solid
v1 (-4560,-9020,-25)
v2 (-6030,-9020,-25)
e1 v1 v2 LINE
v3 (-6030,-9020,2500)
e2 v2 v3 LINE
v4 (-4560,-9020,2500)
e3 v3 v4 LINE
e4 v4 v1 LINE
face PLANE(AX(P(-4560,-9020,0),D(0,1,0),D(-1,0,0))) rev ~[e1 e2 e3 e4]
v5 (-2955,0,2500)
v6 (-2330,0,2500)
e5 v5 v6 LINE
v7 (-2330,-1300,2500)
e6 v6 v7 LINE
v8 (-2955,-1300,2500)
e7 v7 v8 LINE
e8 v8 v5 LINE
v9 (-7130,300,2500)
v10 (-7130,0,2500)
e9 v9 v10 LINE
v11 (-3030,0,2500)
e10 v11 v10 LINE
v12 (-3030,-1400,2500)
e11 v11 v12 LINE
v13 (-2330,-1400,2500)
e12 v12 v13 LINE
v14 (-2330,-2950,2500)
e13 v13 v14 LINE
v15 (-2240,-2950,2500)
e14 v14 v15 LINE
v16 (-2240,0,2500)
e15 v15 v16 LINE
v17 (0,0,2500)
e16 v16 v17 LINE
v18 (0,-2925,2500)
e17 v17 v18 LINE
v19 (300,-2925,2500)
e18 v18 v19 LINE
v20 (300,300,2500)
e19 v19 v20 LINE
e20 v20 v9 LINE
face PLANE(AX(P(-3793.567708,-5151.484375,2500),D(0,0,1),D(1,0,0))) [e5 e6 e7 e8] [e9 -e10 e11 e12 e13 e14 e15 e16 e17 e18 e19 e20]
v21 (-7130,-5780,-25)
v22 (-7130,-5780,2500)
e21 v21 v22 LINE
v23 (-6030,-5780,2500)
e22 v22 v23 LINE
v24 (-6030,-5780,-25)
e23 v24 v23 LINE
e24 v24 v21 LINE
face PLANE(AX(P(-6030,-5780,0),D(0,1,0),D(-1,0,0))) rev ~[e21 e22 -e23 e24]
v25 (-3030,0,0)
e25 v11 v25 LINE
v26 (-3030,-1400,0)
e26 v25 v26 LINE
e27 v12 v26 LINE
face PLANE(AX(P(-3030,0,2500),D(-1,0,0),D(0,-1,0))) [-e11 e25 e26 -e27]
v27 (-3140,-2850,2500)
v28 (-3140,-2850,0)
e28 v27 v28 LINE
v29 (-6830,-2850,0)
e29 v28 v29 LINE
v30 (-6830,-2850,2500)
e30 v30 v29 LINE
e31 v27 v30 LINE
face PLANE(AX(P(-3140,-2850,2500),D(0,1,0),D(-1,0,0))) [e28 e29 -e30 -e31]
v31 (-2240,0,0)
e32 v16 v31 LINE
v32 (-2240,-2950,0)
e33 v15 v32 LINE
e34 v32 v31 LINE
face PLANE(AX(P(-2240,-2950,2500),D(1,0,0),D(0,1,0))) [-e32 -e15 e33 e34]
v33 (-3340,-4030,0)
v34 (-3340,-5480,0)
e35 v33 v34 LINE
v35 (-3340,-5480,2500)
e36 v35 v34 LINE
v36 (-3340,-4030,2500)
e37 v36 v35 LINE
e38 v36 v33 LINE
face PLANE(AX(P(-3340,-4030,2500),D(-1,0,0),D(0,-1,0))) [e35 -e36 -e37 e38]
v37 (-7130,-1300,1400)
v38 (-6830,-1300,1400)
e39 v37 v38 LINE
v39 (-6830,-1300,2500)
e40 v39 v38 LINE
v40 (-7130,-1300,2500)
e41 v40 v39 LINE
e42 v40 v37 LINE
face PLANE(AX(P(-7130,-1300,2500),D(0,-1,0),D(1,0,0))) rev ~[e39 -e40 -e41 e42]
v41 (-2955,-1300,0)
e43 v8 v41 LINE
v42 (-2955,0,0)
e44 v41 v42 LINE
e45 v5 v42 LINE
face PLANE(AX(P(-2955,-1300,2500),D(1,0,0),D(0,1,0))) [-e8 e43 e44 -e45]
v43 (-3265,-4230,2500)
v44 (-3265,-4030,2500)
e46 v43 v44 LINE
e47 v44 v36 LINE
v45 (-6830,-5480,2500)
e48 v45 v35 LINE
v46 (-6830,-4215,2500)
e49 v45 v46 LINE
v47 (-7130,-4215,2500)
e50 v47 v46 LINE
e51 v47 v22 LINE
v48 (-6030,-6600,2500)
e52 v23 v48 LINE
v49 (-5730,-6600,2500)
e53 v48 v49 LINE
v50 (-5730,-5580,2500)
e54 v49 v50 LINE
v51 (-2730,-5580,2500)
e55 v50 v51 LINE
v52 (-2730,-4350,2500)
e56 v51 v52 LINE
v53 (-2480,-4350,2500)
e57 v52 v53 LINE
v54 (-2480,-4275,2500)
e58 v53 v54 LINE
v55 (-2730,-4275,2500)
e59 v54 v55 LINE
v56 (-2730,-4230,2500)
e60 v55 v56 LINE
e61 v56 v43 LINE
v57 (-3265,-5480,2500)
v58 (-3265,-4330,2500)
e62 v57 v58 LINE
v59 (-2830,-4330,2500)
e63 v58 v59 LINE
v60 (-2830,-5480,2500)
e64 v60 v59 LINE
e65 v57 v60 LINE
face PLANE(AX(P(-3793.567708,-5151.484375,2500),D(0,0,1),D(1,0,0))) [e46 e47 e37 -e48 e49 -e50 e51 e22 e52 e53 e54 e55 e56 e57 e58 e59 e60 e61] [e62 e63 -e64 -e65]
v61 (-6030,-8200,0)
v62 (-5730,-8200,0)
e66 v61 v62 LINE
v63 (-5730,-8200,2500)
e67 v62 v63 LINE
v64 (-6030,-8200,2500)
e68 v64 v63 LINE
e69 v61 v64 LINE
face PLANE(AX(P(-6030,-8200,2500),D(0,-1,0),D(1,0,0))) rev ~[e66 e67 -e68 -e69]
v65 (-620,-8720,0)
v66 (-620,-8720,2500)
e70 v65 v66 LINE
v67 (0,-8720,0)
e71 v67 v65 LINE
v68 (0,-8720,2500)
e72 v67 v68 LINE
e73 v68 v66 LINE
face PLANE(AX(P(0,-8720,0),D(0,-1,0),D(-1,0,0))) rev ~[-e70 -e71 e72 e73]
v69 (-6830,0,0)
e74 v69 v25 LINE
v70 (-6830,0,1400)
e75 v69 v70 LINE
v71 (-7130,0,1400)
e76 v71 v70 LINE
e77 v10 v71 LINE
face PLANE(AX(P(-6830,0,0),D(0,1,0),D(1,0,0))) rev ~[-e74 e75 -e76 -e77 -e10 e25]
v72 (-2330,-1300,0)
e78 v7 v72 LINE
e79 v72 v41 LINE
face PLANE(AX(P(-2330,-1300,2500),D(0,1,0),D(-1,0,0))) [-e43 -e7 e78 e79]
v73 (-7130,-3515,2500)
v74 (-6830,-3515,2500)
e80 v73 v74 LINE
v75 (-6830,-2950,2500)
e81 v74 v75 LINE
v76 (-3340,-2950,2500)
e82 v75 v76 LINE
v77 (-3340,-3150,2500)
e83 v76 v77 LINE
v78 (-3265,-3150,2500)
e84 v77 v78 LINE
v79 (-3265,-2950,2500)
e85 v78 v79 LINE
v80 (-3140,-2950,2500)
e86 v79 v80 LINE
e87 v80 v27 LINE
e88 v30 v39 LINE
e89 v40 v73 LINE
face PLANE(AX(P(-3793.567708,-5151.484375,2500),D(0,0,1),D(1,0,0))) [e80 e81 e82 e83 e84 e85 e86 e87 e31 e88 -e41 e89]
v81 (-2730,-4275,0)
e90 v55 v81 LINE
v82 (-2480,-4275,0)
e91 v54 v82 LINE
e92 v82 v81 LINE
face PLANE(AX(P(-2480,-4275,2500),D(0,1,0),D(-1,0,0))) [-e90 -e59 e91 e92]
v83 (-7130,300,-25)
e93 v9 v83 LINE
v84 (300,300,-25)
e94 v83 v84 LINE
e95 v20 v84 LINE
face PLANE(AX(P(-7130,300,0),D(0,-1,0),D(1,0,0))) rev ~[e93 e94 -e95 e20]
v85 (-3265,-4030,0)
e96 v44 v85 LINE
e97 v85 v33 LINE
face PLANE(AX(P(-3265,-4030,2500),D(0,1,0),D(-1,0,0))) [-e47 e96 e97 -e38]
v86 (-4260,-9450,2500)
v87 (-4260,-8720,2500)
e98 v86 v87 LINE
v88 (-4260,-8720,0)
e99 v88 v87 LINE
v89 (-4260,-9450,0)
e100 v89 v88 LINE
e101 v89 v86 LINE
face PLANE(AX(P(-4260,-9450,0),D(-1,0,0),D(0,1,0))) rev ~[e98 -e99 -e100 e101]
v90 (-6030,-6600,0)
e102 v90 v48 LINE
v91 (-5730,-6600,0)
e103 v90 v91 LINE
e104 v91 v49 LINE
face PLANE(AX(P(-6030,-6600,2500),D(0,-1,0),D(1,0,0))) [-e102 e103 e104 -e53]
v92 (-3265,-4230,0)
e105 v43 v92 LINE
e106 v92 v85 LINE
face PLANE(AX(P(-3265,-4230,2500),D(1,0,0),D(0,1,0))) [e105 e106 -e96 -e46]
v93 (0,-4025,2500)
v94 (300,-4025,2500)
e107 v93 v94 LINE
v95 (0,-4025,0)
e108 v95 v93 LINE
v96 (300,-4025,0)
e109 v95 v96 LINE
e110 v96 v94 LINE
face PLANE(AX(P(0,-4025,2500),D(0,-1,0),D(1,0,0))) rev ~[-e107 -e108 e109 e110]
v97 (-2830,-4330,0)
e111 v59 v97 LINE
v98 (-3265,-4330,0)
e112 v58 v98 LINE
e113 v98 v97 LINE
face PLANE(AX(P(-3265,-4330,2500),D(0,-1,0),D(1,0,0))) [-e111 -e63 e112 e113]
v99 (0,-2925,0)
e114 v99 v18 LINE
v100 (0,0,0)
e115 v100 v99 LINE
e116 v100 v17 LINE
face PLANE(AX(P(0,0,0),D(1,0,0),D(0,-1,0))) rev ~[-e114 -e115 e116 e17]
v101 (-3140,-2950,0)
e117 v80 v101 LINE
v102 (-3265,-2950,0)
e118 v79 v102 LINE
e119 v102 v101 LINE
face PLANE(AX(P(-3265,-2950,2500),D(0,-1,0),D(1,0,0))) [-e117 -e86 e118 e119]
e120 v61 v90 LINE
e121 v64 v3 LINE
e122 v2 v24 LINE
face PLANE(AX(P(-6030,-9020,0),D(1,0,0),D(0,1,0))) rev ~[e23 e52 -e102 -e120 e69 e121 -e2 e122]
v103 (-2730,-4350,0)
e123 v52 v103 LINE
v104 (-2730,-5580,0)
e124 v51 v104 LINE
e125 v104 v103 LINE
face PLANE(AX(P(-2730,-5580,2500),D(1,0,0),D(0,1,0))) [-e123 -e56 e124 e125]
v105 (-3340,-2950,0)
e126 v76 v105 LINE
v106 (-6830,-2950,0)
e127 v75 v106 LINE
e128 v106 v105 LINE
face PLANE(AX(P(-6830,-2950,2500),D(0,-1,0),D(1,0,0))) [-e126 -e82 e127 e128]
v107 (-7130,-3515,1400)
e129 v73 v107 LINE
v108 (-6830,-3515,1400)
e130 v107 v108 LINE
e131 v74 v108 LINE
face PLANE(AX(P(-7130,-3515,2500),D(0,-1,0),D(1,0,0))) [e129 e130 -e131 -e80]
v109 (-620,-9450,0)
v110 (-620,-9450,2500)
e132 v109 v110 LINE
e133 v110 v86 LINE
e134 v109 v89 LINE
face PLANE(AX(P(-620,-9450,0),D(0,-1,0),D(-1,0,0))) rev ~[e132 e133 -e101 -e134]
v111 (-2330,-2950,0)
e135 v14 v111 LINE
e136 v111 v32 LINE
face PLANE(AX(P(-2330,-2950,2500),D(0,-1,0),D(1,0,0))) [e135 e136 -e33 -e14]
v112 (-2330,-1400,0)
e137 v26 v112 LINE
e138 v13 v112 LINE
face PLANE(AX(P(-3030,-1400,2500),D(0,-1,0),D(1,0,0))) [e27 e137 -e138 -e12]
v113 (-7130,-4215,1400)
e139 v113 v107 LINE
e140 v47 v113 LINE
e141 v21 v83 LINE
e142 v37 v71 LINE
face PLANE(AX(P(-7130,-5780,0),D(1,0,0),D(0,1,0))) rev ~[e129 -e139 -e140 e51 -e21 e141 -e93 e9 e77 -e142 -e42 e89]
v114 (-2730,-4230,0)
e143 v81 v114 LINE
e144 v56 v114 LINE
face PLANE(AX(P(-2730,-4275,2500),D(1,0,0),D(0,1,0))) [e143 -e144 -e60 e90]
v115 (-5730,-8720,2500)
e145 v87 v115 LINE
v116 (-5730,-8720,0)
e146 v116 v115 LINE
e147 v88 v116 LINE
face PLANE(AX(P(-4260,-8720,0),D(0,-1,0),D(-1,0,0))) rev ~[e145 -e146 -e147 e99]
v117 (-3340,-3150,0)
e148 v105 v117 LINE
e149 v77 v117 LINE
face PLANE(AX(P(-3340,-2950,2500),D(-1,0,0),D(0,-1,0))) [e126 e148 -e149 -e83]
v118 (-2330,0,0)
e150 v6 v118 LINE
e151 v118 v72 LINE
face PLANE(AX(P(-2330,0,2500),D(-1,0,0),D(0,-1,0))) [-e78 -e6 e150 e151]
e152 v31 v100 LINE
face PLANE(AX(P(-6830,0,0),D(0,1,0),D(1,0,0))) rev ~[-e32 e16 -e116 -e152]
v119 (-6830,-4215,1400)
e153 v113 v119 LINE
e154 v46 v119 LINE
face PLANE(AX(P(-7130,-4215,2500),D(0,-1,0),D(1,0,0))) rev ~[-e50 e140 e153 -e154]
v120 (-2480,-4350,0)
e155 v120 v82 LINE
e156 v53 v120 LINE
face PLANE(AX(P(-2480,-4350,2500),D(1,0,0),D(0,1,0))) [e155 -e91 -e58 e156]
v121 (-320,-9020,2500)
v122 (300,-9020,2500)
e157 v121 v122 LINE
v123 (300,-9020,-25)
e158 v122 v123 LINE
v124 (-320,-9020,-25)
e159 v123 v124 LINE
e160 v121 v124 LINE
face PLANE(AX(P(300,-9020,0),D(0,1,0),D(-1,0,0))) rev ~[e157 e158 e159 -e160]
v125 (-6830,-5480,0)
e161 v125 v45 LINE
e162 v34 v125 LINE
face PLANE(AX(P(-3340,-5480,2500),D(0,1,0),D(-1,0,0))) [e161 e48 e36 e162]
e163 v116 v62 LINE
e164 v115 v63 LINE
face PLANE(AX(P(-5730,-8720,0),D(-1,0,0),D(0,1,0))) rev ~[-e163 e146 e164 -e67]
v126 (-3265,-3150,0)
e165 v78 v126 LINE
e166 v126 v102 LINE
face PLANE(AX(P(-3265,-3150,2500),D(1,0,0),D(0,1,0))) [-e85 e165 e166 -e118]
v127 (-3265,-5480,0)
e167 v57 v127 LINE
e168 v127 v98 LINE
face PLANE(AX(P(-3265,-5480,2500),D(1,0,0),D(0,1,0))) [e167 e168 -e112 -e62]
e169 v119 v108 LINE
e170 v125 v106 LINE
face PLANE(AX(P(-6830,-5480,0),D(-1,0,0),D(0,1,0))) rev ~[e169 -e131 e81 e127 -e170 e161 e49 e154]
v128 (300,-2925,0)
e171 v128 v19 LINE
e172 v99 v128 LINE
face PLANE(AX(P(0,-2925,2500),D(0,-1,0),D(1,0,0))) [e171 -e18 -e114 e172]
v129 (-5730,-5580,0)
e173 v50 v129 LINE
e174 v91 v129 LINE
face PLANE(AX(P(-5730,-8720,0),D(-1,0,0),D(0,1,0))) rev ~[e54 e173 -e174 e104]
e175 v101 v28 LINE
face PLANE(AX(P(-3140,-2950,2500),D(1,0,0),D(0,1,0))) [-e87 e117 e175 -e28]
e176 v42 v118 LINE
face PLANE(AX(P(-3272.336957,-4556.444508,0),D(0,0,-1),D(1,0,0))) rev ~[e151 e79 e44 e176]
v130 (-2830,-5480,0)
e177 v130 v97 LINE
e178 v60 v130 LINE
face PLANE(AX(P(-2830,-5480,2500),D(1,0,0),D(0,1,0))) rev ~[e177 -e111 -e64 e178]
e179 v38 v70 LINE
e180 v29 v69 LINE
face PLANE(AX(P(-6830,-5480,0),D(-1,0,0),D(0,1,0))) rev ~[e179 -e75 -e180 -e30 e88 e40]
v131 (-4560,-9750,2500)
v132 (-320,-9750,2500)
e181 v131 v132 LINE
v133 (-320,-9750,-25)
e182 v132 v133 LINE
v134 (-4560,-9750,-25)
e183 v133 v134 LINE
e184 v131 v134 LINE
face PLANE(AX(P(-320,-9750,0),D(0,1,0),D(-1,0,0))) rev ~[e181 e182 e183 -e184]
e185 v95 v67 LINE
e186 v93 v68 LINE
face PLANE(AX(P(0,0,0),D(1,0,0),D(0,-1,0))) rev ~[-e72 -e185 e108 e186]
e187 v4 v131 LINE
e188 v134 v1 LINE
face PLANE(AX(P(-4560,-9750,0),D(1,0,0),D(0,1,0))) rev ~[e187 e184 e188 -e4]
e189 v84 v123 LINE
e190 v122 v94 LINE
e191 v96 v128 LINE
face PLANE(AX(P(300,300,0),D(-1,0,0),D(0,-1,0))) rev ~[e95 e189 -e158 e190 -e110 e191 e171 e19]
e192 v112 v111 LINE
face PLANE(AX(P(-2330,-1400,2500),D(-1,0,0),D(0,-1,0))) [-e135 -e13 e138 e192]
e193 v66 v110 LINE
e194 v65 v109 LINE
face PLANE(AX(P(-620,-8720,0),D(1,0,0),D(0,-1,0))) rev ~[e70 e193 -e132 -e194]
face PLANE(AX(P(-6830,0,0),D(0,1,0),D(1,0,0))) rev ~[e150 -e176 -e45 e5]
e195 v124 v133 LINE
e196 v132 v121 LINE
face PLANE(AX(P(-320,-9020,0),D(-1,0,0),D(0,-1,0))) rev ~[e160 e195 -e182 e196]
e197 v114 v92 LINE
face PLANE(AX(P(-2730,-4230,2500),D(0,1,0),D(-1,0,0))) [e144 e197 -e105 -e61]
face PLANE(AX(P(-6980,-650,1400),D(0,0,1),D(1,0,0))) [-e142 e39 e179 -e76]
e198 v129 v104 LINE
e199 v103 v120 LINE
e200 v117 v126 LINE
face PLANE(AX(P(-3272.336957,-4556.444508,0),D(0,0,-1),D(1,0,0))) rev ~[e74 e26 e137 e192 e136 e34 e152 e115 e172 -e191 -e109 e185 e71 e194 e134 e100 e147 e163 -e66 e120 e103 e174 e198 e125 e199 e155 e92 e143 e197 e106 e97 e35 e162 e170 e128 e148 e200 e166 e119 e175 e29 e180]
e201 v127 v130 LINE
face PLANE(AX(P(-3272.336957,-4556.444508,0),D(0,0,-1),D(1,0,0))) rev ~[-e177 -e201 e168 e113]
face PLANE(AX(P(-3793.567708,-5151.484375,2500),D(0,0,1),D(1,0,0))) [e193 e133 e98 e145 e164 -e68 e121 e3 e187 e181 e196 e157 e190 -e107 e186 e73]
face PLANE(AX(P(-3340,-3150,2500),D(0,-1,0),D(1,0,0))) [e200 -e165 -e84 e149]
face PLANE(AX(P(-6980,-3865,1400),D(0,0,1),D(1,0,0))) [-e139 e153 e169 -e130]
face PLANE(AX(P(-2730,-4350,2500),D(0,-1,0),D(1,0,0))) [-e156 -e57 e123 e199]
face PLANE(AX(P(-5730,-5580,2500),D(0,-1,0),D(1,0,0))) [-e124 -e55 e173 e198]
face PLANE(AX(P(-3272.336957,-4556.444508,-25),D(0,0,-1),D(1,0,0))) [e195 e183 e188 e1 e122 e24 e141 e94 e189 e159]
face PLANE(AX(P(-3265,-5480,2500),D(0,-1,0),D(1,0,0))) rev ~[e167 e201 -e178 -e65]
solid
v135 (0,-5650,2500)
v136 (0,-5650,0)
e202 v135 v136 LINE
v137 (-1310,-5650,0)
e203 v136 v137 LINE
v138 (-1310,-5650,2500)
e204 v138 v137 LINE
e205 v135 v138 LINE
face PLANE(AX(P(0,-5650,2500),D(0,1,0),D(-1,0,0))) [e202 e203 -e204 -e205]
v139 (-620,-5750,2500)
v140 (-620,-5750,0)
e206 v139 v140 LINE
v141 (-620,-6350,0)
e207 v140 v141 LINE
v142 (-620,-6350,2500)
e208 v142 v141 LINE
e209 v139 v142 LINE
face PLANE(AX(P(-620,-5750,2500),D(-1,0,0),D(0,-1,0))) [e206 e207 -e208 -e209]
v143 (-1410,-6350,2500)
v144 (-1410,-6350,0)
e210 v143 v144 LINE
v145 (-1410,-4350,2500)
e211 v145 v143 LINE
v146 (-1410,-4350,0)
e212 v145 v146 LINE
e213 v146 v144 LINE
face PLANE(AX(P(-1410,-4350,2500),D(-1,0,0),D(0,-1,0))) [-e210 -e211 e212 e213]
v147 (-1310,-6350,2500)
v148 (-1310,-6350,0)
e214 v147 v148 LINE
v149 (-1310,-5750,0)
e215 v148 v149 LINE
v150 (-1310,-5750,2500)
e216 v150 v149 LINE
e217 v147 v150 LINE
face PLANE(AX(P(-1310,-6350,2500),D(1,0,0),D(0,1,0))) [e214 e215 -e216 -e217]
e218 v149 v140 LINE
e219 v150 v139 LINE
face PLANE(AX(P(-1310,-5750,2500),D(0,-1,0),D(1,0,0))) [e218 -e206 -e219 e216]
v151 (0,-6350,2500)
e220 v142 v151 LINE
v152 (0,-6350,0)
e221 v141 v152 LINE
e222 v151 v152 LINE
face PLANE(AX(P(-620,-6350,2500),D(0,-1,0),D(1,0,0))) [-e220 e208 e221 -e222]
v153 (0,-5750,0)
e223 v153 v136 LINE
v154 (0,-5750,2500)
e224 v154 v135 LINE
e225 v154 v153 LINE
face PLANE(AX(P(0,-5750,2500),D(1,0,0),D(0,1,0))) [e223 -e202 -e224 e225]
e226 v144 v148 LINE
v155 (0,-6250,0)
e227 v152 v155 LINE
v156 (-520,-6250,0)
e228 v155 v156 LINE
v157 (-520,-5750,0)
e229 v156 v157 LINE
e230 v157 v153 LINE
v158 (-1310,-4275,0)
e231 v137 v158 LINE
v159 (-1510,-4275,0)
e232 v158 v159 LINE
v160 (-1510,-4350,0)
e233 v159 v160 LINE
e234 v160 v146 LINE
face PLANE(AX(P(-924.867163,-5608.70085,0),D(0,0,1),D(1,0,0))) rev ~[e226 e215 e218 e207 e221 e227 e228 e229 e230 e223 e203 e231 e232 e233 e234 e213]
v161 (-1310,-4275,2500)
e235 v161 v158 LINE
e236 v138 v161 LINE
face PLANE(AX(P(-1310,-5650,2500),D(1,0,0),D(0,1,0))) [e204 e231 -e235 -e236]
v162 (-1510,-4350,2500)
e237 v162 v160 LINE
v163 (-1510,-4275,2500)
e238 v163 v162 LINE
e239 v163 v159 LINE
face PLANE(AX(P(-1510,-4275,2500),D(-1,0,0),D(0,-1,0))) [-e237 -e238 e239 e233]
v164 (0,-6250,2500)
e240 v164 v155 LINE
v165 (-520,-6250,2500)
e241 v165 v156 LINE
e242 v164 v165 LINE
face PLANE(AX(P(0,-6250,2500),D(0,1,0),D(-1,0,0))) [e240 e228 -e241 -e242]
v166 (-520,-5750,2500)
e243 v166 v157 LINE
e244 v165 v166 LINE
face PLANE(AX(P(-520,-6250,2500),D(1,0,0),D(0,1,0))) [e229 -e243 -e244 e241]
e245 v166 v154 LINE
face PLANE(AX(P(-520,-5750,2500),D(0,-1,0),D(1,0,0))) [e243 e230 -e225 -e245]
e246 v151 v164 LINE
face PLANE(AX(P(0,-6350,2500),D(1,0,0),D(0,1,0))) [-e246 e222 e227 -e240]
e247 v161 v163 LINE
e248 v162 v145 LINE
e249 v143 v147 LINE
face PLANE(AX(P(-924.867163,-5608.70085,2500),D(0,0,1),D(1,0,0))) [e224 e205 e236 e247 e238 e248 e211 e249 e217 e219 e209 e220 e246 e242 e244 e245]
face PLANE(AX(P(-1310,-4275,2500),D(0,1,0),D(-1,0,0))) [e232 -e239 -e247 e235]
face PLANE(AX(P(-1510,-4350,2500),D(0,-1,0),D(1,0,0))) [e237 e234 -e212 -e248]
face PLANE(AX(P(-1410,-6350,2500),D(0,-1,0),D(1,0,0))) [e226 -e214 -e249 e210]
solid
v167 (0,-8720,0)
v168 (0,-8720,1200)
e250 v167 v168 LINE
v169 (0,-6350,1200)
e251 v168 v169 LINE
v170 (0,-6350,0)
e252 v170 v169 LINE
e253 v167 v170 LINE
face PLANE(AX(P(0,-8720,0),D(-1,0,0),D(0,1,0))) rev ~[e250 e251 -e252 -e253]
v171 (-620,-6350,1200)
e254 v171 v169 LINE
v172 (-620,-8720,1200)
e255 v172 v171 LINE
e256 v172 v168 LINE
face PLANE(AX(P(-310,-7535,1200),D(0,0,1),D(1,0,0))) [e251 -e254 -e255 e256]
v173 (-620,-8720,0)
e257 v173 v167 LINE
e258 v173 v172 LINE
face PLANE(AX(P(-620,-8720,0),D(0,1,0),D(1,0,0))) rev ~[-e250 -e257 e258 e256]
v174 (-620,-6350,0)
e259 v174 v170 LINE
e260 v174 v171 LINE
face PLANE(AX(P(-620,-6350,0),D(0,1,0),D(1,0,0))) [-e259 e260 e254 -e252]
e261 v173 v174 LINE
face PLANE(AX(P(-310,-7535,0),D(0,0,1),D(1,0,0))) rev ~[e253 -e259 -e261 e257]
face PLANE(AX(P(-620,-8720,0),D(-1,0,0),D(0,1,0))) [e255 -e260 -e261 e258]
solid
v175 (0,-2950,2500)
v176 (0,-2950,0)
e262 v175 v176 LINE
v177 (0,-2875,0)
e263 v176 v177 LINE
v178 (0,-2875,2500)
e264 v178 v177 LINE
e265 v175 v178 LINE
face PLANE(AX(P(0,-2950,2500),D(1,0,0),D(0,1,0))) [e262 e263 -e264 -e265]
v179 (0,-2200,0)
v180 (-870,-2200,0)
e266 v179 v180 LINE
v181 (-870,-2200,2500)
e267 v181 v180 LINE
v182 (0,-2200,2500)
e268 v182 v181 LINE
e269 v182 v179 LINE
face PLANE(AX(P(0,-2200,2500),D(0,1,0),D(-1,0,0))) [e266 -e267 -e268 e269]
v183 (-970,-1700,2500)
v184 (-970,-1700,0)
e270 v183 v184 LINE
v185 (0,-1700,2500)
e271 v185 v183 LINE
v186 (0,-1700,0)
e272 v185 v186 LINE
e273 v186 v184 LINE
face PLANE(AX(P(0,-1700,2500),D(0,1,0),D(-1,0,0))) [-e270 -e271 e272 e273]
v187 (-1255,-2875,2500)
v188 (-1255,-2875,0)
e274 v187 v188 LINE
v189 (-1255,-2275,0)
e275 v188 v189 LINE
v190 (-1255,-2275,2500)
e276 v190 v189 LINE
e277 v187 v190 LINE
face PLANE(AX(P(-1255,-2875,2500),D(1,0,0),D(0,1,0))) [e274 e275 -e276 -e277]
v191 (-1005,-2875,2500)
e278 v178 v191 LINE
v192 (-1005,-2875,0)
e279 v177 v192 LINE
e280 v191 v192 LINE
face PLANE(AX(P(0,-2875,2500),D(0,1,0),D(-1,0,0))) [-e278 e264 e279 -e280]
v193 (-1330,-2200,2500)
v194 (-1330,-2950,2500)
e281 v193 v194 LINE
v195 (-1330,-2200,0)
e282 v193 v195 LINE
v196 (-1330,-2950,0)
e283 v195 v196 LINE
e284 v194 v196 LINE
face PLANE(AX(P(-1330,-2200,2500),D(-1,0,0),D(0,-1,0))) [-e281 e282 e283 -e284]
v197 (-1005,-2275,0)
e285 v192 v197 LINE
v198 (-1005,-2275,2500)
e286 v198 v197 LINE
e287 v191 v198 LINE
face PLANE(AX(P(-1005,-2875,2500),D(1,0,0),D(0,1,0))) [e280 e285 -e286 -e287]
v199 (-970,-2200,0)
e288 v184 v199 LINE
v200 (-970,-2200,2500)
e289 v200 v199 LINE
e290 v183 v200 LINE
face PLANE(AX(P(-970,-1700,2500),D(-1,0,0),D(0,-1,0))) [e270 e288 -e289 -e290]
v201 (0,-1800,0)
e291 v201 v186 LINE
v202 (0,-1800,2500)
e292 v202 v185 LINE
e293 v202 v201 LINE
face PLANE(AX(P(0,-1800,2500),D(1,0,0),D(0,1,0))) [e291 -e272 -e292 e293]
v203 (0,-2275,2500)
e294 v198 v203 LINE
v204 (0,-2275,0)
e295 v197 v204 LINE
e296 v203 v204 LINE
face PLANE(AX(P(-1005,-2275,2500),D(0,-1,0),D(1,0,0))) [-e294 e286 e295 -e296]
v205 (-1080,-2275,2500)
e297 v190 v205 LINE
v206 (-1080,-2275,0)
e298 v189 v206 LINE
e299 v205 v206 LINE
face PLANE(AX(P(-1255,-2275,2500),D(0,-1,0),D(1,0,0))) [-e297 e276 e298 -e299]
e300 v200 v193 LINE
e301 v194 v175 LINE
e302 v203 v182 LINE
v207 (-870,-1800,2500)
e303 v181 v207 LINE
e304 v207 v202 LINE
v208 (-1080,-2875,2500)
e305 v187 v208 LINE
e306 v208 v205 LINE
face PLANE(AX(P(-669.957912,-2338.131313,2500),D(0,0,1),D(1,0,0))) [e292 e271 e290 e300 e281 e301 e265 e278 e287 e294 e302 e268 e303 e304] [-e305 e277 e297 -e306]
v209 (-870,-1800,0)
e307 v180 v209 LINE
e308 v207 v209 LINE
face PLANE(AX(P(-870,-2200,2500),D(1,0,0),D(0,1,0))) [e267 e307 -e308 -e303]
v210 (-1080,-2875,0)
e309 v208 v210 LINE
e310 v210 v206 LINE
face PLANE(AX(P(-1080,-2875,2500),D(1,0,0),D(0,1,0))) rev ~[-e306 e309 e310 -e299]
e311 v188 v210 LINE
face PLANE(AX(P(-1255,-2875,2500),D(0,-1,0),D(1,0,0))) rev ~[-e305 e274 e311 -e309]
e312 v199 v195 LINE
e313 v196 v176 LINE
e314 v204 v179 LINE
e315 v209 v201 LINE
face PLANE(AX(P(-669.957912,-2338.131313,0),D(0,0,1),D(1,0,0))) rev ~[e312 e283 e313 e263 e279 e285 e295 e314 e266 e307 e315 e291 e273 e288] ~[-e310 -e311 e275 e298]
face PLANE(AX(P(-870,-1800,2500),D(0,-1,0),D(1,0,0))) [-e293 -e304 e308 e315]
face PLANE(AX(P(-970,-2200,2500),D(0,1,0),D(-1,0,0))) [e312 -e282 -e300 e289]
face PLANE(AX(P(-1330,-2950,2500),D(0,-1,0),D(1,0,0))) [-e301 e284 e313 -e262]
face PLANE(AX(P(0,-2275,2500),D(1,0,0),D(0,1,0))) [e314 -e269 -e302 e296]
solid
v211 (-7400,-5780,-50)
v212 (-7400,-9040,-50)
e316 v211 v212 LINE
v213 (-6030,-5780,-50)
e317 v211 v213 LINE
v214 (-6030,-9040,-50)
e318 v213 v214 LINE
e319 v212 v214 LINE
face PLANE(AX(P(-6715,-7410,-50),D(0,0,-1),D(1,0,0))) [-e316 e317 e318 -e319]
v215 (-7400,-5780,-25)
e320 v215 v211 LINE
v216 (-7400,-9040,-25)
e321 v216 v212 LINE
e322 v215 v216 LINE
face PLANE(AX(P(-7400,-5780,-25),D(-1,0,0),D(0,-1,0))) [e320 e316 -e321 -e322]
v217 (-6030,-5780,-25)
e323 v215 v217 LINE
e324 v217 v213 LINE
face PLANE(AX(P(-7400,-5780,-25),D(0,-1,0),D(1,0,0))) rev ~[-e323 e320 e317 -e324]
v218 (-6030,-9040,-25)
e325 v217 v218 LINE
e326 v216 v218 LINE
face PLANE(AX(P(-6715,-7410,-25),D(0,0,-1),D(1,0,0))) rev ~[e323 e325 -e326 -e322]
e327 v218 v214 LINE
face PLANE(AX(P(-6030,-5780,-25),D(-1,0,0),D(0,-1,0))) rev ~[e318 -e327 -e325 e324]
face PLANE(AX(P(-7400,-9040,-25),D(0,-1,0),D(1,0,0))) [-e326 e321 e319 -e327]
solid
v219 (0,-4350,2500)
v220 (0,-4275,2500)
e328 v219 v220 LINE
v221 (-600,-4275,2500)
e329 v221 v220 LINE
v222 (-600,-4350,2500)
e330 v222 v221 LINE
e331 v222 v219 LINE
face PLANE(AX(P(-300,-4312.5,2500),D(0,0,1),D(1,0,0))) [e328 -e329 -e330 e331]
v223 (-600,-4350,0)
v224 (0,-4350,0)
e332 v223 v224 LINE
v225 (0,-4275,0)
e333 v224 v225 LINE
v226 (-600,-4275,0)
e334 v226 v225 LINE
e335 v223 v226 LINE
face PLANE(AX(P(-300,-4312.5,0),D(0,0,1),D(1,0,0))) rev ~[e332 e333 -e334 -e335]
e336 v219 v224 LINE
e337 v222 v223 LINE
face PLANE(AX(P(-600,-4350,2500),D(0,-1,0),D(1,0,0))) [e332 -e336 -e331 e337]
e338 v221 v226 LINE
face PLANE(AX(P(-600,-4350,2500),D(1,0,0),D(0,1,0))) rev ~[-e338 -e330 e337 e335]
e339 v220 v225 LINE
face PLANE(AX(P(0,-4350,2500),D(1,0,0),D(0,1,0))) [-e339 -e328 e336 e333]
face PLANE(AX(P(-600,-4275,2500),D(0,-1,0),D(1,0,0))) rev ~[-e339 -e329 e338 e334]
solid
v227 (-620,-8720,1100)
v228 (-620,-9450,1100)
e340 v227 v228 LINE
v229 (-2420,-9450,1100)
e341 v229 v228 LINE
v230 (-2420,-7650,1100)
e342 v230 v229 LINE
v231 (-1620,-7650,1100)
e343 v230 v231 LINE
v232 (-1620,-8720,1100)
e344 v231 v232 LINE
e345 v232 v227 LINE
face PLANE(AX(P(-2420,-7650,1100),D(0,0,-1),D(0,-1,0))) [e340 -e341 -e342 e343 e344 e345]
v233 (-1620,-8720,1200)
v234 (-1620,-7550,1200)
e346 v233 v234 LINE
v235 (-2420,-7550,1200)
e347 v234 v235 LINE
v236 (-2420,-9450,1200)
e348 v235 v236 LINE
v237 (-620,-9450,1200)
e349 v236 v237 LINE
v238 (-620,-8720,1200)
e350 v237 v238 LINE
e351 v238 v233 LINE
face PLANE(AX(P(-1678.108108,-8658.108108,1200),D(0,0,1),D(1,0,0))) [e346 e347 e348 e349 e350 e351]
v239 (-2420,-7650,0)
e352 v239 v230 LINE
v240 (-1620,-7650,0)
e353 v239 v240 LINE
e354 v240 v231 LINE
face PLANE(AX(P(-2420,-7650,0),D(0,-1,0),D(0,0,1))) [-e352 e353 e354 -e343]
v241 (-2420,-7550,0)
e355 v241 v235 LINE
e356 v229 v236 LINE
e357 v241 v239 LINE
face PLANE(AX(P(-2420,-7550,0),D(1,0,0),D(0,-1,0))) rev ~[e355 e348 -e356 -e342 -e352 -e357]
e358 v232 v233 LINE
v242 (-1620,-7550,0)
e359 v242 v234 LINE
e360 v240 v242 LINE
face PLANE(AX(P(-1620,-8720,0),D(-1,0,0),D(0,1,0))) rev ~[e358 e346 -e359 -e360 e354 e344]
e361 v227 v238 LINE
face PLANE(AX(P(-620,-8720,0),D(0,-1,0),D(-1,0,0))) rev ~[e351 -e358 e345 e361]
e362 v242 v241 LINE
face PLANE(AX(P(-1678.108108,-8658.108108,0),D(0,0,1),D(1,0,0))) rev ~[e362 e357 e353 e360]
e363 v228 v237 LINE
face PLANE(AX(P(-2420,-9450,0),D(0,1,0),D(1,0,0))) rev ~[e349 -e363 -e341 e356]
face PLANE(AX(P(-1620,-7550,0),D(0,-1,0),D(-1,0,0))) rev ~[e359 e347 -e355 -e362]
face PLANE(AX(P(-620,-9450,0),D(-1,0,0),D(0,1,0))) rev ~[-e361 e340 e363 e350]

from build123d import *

# Parameters (mm, degrees)
F1_DEPTH  = 2500
F3_DEPTH  = 25
F4_W      = 1370
F4_H      = 3260
F5_DEPTH  = 25
F6_W      = 435
F6_H      = 1150
F7_DEPTH  = 2500
F9_DEPTH  = 2500
F8_W      = 600
F8_H      = 75
F8_W_2    = 175
F8_H_2    = 600
F10_W     = 300
F10_H     = 1600
F10_H_2   = 1100
F11_DEPTH = 2500
F10_H_3   = 700
F10_H_4   = 1300
F12_DEPTH = 1100
F13_W     = 620
F13_H     = 2370
F14_DEPTH = 1200
F15_W     = 1800
F15_H     = 1100
F16_DEPTH = 1800.001


with BuildPart() as f1:
    # F0 (on Top) → F1 (new body)
    with BuildSketch(Plane.XY):
        Polygon((300, 300), (-7130, 300), (-7130, -5780), (-6030, -5780), (-6030, -9020), (-4560, -9020), (-4560, -9750), (-320, -9750), (-320, -9020), (300, -9020), align=None)
        Polygon((-6830, 0), (0, 0), (0, -8720), (-620, -8720), (-620, -9450), (-4260, -9450), (-4260, -8720), (-5730, -8720), (-5730, -5480), (-6830, -5480), align=None, mode=Mode.SUBTRACT)
    extrude(amount=F1_DEPTH)

    # F2 (on face) → F3 (join)
    with BuildSketch(Plane(origin=(0, 0, 0), x_dir=(1, 0, 0), z_dir=(0, 0, -1))):
        Polygon((-7130, 5780), (-7130, -300), (300, -300), (300, 9020), (-320, 9020), (-320, 9750), (-4560, 9750), (-4560, 9020), (-6030, 9020), (-6030, 5780), align=None)
    extrude(amount=F3_DEPTH)

    # F6 (on face) → F7 (join, through all)
    with BuildSketch(Plane.XY.offset(2500)):
        Polygon((-6830, -2850), (-6830, -2950), (-3340, -2950), (-3340, -3150), (-3265, -3150), (-3265, -2950), (-3140, -2950), (-3140, -2850), align=None)
        Polygon((-3340, -5480), (-5730, -5480), (-5730, -5580), (-2730, -5580), (-2730, -4350), (-2480, -4350), (-2480, -4275), (-2730, -4275), (-2730, -4230), (-3265, -4230), (-3265, -4030), (-3340, -4030), (-3340, -4230), align=None)
        with Locations((-3047.5, -4905)):
            Rectangle(F6_W, F6_H, mode=Mode.SUBTRACT)
        Polygon((-2240, 0), (-2330, 0), (-2330, -1300), (-2955, -1300), (-2955, 0), (-3030, 0), (-3030, -1400), (-2330, -1400), (-2330, -2950), (-2240, -2950), align=None)
    extrude(amount=-F7_DEPTH)

    # F10 (on face) → F11 (cut)
    with BuildSketch(Plane.XY.offset(2500)):
        with Locations((-5880, -7400)):
            Rectangle(F10_W, F10_H)
        with Locations((150, -3475)):
            Rectangle(F10_W, F10_H_2)
    extrude(amount=-F11_DEPTH, mode=Mode.SUBTRACT)

    # F10 (on face) → F12 (cut)
    with BuildSketch(Plane.XY.offset(2500)):
        with Locations((150, -3475)):
            Rectangle(F10_W, F10_H_2)
        with Locations((-5880, -7400)):
            Rectangle(F10_W, F10_H)
        with Locations((-6980, -3865)):
            Rectangle(F10_W, F10_H_3)
        with Locations((-6980, -650)):
            Rectangle(F10_W, F10_H_4)
    extrude(amount=-F12_DEPTH, mode=Mode.SUBTRACT)


with BuildPart() as f5:
    # F4 (on face) → F5 (new body)
    with BuildSketch(Plane(origin=(0, 0, -25), x_dir=(1, 0, 0), z_dir=(0, 0, -1))):
        with Locations((-6715, 7410)):
            Rectangle(F4_W, F4_H)
    extrude(amount=F5_DEPTH)


with BuildPart() as f9:
    # F8 (on face) → F9 (new body, through all)
    with BuildSketch(Plane.XY.offset(2500)):
        Polygon((-620, -6350), (0, -6350), (0, -6250), (-520, -6250), (-520, -5750), (0, -5750), (0, -5650), (-1310, -5650), (-1310, -4275), (-1510, -4275), (-1510, -4350), (-1410, -4350), (-1410, -6350), (-1310, -6350), (-1310, -5750), (-620, -5750), align=None)
    extrude(amount=-F9_DEPTH)


with BuildPart() as f9b:
    # F8 (on face) → F9, piece 2 (new body, through all)
    with BuildSketch(Plane.XY.offset(2500)):
        with Locations((-300, -4312.5)):
            Rectangle(F8_W, F8_H)
    extrude(amount=-F9_DEPTH)


with BuildPart() as f9c:
    # F8 (on face) → F9, piece 3 (new body, through all)
    with BuildSketch(Plane.XY.offset(2500)):
        Polygon((-1005, -2275), (0, -2275), (0, -2200), (-870, -2200), (-870, -1800), (0, -1800), (0, -1700), (-970, -1700), (-970, -2200), (-1330, -2200), (-1330, -2950), (0, -2950), (0, -2875), (-1005, -2875), align=None)
        with Locations((-1167.5, -2575)):
            Rectangle(F8_W_2, F8_H_2, mode=Mode.SUBTRACT)
    extrude(amount=-F9_DEPTH)


with BuildPart() as f14:
    # F13 (on face) → F14 (new body)
    with BuildSketch(Plane.XY):
        with Locations((-310, -7535)):
            Rectangle(F13_W, F13_H)
    extrude(amount=F14_DEPTH)


with BuildPart() as f14b:
    # F13 (on face) → F14, piece 2 (new body)
    with BuildSketch(Plane.XY):
        Polygon((-620, -9450), (-620, -8720), (-1620, -8720), (-1620, -7550), (-2420, -7550), (-2420, -9450), align=None)
    extrude(amount=F14_DEPTH)

    # F15 (on face) → F16 (cut, through all)
    with BuildSketch(Plane(origin=(-2420, 0, 0), x_dir=(0, -1, 0), z_dir=(-1, 0, 0))):
        with Locations((8550, 550)):
            Rectangle(F15_W, F15_H)
    extrude(amount=-F16_DEPTH, mode=Mode.SUBTRACT)


solid = Compound([f1.part, f5.part, f9.part, f9b.part, f9c.part, f14.part, f14b.part])
